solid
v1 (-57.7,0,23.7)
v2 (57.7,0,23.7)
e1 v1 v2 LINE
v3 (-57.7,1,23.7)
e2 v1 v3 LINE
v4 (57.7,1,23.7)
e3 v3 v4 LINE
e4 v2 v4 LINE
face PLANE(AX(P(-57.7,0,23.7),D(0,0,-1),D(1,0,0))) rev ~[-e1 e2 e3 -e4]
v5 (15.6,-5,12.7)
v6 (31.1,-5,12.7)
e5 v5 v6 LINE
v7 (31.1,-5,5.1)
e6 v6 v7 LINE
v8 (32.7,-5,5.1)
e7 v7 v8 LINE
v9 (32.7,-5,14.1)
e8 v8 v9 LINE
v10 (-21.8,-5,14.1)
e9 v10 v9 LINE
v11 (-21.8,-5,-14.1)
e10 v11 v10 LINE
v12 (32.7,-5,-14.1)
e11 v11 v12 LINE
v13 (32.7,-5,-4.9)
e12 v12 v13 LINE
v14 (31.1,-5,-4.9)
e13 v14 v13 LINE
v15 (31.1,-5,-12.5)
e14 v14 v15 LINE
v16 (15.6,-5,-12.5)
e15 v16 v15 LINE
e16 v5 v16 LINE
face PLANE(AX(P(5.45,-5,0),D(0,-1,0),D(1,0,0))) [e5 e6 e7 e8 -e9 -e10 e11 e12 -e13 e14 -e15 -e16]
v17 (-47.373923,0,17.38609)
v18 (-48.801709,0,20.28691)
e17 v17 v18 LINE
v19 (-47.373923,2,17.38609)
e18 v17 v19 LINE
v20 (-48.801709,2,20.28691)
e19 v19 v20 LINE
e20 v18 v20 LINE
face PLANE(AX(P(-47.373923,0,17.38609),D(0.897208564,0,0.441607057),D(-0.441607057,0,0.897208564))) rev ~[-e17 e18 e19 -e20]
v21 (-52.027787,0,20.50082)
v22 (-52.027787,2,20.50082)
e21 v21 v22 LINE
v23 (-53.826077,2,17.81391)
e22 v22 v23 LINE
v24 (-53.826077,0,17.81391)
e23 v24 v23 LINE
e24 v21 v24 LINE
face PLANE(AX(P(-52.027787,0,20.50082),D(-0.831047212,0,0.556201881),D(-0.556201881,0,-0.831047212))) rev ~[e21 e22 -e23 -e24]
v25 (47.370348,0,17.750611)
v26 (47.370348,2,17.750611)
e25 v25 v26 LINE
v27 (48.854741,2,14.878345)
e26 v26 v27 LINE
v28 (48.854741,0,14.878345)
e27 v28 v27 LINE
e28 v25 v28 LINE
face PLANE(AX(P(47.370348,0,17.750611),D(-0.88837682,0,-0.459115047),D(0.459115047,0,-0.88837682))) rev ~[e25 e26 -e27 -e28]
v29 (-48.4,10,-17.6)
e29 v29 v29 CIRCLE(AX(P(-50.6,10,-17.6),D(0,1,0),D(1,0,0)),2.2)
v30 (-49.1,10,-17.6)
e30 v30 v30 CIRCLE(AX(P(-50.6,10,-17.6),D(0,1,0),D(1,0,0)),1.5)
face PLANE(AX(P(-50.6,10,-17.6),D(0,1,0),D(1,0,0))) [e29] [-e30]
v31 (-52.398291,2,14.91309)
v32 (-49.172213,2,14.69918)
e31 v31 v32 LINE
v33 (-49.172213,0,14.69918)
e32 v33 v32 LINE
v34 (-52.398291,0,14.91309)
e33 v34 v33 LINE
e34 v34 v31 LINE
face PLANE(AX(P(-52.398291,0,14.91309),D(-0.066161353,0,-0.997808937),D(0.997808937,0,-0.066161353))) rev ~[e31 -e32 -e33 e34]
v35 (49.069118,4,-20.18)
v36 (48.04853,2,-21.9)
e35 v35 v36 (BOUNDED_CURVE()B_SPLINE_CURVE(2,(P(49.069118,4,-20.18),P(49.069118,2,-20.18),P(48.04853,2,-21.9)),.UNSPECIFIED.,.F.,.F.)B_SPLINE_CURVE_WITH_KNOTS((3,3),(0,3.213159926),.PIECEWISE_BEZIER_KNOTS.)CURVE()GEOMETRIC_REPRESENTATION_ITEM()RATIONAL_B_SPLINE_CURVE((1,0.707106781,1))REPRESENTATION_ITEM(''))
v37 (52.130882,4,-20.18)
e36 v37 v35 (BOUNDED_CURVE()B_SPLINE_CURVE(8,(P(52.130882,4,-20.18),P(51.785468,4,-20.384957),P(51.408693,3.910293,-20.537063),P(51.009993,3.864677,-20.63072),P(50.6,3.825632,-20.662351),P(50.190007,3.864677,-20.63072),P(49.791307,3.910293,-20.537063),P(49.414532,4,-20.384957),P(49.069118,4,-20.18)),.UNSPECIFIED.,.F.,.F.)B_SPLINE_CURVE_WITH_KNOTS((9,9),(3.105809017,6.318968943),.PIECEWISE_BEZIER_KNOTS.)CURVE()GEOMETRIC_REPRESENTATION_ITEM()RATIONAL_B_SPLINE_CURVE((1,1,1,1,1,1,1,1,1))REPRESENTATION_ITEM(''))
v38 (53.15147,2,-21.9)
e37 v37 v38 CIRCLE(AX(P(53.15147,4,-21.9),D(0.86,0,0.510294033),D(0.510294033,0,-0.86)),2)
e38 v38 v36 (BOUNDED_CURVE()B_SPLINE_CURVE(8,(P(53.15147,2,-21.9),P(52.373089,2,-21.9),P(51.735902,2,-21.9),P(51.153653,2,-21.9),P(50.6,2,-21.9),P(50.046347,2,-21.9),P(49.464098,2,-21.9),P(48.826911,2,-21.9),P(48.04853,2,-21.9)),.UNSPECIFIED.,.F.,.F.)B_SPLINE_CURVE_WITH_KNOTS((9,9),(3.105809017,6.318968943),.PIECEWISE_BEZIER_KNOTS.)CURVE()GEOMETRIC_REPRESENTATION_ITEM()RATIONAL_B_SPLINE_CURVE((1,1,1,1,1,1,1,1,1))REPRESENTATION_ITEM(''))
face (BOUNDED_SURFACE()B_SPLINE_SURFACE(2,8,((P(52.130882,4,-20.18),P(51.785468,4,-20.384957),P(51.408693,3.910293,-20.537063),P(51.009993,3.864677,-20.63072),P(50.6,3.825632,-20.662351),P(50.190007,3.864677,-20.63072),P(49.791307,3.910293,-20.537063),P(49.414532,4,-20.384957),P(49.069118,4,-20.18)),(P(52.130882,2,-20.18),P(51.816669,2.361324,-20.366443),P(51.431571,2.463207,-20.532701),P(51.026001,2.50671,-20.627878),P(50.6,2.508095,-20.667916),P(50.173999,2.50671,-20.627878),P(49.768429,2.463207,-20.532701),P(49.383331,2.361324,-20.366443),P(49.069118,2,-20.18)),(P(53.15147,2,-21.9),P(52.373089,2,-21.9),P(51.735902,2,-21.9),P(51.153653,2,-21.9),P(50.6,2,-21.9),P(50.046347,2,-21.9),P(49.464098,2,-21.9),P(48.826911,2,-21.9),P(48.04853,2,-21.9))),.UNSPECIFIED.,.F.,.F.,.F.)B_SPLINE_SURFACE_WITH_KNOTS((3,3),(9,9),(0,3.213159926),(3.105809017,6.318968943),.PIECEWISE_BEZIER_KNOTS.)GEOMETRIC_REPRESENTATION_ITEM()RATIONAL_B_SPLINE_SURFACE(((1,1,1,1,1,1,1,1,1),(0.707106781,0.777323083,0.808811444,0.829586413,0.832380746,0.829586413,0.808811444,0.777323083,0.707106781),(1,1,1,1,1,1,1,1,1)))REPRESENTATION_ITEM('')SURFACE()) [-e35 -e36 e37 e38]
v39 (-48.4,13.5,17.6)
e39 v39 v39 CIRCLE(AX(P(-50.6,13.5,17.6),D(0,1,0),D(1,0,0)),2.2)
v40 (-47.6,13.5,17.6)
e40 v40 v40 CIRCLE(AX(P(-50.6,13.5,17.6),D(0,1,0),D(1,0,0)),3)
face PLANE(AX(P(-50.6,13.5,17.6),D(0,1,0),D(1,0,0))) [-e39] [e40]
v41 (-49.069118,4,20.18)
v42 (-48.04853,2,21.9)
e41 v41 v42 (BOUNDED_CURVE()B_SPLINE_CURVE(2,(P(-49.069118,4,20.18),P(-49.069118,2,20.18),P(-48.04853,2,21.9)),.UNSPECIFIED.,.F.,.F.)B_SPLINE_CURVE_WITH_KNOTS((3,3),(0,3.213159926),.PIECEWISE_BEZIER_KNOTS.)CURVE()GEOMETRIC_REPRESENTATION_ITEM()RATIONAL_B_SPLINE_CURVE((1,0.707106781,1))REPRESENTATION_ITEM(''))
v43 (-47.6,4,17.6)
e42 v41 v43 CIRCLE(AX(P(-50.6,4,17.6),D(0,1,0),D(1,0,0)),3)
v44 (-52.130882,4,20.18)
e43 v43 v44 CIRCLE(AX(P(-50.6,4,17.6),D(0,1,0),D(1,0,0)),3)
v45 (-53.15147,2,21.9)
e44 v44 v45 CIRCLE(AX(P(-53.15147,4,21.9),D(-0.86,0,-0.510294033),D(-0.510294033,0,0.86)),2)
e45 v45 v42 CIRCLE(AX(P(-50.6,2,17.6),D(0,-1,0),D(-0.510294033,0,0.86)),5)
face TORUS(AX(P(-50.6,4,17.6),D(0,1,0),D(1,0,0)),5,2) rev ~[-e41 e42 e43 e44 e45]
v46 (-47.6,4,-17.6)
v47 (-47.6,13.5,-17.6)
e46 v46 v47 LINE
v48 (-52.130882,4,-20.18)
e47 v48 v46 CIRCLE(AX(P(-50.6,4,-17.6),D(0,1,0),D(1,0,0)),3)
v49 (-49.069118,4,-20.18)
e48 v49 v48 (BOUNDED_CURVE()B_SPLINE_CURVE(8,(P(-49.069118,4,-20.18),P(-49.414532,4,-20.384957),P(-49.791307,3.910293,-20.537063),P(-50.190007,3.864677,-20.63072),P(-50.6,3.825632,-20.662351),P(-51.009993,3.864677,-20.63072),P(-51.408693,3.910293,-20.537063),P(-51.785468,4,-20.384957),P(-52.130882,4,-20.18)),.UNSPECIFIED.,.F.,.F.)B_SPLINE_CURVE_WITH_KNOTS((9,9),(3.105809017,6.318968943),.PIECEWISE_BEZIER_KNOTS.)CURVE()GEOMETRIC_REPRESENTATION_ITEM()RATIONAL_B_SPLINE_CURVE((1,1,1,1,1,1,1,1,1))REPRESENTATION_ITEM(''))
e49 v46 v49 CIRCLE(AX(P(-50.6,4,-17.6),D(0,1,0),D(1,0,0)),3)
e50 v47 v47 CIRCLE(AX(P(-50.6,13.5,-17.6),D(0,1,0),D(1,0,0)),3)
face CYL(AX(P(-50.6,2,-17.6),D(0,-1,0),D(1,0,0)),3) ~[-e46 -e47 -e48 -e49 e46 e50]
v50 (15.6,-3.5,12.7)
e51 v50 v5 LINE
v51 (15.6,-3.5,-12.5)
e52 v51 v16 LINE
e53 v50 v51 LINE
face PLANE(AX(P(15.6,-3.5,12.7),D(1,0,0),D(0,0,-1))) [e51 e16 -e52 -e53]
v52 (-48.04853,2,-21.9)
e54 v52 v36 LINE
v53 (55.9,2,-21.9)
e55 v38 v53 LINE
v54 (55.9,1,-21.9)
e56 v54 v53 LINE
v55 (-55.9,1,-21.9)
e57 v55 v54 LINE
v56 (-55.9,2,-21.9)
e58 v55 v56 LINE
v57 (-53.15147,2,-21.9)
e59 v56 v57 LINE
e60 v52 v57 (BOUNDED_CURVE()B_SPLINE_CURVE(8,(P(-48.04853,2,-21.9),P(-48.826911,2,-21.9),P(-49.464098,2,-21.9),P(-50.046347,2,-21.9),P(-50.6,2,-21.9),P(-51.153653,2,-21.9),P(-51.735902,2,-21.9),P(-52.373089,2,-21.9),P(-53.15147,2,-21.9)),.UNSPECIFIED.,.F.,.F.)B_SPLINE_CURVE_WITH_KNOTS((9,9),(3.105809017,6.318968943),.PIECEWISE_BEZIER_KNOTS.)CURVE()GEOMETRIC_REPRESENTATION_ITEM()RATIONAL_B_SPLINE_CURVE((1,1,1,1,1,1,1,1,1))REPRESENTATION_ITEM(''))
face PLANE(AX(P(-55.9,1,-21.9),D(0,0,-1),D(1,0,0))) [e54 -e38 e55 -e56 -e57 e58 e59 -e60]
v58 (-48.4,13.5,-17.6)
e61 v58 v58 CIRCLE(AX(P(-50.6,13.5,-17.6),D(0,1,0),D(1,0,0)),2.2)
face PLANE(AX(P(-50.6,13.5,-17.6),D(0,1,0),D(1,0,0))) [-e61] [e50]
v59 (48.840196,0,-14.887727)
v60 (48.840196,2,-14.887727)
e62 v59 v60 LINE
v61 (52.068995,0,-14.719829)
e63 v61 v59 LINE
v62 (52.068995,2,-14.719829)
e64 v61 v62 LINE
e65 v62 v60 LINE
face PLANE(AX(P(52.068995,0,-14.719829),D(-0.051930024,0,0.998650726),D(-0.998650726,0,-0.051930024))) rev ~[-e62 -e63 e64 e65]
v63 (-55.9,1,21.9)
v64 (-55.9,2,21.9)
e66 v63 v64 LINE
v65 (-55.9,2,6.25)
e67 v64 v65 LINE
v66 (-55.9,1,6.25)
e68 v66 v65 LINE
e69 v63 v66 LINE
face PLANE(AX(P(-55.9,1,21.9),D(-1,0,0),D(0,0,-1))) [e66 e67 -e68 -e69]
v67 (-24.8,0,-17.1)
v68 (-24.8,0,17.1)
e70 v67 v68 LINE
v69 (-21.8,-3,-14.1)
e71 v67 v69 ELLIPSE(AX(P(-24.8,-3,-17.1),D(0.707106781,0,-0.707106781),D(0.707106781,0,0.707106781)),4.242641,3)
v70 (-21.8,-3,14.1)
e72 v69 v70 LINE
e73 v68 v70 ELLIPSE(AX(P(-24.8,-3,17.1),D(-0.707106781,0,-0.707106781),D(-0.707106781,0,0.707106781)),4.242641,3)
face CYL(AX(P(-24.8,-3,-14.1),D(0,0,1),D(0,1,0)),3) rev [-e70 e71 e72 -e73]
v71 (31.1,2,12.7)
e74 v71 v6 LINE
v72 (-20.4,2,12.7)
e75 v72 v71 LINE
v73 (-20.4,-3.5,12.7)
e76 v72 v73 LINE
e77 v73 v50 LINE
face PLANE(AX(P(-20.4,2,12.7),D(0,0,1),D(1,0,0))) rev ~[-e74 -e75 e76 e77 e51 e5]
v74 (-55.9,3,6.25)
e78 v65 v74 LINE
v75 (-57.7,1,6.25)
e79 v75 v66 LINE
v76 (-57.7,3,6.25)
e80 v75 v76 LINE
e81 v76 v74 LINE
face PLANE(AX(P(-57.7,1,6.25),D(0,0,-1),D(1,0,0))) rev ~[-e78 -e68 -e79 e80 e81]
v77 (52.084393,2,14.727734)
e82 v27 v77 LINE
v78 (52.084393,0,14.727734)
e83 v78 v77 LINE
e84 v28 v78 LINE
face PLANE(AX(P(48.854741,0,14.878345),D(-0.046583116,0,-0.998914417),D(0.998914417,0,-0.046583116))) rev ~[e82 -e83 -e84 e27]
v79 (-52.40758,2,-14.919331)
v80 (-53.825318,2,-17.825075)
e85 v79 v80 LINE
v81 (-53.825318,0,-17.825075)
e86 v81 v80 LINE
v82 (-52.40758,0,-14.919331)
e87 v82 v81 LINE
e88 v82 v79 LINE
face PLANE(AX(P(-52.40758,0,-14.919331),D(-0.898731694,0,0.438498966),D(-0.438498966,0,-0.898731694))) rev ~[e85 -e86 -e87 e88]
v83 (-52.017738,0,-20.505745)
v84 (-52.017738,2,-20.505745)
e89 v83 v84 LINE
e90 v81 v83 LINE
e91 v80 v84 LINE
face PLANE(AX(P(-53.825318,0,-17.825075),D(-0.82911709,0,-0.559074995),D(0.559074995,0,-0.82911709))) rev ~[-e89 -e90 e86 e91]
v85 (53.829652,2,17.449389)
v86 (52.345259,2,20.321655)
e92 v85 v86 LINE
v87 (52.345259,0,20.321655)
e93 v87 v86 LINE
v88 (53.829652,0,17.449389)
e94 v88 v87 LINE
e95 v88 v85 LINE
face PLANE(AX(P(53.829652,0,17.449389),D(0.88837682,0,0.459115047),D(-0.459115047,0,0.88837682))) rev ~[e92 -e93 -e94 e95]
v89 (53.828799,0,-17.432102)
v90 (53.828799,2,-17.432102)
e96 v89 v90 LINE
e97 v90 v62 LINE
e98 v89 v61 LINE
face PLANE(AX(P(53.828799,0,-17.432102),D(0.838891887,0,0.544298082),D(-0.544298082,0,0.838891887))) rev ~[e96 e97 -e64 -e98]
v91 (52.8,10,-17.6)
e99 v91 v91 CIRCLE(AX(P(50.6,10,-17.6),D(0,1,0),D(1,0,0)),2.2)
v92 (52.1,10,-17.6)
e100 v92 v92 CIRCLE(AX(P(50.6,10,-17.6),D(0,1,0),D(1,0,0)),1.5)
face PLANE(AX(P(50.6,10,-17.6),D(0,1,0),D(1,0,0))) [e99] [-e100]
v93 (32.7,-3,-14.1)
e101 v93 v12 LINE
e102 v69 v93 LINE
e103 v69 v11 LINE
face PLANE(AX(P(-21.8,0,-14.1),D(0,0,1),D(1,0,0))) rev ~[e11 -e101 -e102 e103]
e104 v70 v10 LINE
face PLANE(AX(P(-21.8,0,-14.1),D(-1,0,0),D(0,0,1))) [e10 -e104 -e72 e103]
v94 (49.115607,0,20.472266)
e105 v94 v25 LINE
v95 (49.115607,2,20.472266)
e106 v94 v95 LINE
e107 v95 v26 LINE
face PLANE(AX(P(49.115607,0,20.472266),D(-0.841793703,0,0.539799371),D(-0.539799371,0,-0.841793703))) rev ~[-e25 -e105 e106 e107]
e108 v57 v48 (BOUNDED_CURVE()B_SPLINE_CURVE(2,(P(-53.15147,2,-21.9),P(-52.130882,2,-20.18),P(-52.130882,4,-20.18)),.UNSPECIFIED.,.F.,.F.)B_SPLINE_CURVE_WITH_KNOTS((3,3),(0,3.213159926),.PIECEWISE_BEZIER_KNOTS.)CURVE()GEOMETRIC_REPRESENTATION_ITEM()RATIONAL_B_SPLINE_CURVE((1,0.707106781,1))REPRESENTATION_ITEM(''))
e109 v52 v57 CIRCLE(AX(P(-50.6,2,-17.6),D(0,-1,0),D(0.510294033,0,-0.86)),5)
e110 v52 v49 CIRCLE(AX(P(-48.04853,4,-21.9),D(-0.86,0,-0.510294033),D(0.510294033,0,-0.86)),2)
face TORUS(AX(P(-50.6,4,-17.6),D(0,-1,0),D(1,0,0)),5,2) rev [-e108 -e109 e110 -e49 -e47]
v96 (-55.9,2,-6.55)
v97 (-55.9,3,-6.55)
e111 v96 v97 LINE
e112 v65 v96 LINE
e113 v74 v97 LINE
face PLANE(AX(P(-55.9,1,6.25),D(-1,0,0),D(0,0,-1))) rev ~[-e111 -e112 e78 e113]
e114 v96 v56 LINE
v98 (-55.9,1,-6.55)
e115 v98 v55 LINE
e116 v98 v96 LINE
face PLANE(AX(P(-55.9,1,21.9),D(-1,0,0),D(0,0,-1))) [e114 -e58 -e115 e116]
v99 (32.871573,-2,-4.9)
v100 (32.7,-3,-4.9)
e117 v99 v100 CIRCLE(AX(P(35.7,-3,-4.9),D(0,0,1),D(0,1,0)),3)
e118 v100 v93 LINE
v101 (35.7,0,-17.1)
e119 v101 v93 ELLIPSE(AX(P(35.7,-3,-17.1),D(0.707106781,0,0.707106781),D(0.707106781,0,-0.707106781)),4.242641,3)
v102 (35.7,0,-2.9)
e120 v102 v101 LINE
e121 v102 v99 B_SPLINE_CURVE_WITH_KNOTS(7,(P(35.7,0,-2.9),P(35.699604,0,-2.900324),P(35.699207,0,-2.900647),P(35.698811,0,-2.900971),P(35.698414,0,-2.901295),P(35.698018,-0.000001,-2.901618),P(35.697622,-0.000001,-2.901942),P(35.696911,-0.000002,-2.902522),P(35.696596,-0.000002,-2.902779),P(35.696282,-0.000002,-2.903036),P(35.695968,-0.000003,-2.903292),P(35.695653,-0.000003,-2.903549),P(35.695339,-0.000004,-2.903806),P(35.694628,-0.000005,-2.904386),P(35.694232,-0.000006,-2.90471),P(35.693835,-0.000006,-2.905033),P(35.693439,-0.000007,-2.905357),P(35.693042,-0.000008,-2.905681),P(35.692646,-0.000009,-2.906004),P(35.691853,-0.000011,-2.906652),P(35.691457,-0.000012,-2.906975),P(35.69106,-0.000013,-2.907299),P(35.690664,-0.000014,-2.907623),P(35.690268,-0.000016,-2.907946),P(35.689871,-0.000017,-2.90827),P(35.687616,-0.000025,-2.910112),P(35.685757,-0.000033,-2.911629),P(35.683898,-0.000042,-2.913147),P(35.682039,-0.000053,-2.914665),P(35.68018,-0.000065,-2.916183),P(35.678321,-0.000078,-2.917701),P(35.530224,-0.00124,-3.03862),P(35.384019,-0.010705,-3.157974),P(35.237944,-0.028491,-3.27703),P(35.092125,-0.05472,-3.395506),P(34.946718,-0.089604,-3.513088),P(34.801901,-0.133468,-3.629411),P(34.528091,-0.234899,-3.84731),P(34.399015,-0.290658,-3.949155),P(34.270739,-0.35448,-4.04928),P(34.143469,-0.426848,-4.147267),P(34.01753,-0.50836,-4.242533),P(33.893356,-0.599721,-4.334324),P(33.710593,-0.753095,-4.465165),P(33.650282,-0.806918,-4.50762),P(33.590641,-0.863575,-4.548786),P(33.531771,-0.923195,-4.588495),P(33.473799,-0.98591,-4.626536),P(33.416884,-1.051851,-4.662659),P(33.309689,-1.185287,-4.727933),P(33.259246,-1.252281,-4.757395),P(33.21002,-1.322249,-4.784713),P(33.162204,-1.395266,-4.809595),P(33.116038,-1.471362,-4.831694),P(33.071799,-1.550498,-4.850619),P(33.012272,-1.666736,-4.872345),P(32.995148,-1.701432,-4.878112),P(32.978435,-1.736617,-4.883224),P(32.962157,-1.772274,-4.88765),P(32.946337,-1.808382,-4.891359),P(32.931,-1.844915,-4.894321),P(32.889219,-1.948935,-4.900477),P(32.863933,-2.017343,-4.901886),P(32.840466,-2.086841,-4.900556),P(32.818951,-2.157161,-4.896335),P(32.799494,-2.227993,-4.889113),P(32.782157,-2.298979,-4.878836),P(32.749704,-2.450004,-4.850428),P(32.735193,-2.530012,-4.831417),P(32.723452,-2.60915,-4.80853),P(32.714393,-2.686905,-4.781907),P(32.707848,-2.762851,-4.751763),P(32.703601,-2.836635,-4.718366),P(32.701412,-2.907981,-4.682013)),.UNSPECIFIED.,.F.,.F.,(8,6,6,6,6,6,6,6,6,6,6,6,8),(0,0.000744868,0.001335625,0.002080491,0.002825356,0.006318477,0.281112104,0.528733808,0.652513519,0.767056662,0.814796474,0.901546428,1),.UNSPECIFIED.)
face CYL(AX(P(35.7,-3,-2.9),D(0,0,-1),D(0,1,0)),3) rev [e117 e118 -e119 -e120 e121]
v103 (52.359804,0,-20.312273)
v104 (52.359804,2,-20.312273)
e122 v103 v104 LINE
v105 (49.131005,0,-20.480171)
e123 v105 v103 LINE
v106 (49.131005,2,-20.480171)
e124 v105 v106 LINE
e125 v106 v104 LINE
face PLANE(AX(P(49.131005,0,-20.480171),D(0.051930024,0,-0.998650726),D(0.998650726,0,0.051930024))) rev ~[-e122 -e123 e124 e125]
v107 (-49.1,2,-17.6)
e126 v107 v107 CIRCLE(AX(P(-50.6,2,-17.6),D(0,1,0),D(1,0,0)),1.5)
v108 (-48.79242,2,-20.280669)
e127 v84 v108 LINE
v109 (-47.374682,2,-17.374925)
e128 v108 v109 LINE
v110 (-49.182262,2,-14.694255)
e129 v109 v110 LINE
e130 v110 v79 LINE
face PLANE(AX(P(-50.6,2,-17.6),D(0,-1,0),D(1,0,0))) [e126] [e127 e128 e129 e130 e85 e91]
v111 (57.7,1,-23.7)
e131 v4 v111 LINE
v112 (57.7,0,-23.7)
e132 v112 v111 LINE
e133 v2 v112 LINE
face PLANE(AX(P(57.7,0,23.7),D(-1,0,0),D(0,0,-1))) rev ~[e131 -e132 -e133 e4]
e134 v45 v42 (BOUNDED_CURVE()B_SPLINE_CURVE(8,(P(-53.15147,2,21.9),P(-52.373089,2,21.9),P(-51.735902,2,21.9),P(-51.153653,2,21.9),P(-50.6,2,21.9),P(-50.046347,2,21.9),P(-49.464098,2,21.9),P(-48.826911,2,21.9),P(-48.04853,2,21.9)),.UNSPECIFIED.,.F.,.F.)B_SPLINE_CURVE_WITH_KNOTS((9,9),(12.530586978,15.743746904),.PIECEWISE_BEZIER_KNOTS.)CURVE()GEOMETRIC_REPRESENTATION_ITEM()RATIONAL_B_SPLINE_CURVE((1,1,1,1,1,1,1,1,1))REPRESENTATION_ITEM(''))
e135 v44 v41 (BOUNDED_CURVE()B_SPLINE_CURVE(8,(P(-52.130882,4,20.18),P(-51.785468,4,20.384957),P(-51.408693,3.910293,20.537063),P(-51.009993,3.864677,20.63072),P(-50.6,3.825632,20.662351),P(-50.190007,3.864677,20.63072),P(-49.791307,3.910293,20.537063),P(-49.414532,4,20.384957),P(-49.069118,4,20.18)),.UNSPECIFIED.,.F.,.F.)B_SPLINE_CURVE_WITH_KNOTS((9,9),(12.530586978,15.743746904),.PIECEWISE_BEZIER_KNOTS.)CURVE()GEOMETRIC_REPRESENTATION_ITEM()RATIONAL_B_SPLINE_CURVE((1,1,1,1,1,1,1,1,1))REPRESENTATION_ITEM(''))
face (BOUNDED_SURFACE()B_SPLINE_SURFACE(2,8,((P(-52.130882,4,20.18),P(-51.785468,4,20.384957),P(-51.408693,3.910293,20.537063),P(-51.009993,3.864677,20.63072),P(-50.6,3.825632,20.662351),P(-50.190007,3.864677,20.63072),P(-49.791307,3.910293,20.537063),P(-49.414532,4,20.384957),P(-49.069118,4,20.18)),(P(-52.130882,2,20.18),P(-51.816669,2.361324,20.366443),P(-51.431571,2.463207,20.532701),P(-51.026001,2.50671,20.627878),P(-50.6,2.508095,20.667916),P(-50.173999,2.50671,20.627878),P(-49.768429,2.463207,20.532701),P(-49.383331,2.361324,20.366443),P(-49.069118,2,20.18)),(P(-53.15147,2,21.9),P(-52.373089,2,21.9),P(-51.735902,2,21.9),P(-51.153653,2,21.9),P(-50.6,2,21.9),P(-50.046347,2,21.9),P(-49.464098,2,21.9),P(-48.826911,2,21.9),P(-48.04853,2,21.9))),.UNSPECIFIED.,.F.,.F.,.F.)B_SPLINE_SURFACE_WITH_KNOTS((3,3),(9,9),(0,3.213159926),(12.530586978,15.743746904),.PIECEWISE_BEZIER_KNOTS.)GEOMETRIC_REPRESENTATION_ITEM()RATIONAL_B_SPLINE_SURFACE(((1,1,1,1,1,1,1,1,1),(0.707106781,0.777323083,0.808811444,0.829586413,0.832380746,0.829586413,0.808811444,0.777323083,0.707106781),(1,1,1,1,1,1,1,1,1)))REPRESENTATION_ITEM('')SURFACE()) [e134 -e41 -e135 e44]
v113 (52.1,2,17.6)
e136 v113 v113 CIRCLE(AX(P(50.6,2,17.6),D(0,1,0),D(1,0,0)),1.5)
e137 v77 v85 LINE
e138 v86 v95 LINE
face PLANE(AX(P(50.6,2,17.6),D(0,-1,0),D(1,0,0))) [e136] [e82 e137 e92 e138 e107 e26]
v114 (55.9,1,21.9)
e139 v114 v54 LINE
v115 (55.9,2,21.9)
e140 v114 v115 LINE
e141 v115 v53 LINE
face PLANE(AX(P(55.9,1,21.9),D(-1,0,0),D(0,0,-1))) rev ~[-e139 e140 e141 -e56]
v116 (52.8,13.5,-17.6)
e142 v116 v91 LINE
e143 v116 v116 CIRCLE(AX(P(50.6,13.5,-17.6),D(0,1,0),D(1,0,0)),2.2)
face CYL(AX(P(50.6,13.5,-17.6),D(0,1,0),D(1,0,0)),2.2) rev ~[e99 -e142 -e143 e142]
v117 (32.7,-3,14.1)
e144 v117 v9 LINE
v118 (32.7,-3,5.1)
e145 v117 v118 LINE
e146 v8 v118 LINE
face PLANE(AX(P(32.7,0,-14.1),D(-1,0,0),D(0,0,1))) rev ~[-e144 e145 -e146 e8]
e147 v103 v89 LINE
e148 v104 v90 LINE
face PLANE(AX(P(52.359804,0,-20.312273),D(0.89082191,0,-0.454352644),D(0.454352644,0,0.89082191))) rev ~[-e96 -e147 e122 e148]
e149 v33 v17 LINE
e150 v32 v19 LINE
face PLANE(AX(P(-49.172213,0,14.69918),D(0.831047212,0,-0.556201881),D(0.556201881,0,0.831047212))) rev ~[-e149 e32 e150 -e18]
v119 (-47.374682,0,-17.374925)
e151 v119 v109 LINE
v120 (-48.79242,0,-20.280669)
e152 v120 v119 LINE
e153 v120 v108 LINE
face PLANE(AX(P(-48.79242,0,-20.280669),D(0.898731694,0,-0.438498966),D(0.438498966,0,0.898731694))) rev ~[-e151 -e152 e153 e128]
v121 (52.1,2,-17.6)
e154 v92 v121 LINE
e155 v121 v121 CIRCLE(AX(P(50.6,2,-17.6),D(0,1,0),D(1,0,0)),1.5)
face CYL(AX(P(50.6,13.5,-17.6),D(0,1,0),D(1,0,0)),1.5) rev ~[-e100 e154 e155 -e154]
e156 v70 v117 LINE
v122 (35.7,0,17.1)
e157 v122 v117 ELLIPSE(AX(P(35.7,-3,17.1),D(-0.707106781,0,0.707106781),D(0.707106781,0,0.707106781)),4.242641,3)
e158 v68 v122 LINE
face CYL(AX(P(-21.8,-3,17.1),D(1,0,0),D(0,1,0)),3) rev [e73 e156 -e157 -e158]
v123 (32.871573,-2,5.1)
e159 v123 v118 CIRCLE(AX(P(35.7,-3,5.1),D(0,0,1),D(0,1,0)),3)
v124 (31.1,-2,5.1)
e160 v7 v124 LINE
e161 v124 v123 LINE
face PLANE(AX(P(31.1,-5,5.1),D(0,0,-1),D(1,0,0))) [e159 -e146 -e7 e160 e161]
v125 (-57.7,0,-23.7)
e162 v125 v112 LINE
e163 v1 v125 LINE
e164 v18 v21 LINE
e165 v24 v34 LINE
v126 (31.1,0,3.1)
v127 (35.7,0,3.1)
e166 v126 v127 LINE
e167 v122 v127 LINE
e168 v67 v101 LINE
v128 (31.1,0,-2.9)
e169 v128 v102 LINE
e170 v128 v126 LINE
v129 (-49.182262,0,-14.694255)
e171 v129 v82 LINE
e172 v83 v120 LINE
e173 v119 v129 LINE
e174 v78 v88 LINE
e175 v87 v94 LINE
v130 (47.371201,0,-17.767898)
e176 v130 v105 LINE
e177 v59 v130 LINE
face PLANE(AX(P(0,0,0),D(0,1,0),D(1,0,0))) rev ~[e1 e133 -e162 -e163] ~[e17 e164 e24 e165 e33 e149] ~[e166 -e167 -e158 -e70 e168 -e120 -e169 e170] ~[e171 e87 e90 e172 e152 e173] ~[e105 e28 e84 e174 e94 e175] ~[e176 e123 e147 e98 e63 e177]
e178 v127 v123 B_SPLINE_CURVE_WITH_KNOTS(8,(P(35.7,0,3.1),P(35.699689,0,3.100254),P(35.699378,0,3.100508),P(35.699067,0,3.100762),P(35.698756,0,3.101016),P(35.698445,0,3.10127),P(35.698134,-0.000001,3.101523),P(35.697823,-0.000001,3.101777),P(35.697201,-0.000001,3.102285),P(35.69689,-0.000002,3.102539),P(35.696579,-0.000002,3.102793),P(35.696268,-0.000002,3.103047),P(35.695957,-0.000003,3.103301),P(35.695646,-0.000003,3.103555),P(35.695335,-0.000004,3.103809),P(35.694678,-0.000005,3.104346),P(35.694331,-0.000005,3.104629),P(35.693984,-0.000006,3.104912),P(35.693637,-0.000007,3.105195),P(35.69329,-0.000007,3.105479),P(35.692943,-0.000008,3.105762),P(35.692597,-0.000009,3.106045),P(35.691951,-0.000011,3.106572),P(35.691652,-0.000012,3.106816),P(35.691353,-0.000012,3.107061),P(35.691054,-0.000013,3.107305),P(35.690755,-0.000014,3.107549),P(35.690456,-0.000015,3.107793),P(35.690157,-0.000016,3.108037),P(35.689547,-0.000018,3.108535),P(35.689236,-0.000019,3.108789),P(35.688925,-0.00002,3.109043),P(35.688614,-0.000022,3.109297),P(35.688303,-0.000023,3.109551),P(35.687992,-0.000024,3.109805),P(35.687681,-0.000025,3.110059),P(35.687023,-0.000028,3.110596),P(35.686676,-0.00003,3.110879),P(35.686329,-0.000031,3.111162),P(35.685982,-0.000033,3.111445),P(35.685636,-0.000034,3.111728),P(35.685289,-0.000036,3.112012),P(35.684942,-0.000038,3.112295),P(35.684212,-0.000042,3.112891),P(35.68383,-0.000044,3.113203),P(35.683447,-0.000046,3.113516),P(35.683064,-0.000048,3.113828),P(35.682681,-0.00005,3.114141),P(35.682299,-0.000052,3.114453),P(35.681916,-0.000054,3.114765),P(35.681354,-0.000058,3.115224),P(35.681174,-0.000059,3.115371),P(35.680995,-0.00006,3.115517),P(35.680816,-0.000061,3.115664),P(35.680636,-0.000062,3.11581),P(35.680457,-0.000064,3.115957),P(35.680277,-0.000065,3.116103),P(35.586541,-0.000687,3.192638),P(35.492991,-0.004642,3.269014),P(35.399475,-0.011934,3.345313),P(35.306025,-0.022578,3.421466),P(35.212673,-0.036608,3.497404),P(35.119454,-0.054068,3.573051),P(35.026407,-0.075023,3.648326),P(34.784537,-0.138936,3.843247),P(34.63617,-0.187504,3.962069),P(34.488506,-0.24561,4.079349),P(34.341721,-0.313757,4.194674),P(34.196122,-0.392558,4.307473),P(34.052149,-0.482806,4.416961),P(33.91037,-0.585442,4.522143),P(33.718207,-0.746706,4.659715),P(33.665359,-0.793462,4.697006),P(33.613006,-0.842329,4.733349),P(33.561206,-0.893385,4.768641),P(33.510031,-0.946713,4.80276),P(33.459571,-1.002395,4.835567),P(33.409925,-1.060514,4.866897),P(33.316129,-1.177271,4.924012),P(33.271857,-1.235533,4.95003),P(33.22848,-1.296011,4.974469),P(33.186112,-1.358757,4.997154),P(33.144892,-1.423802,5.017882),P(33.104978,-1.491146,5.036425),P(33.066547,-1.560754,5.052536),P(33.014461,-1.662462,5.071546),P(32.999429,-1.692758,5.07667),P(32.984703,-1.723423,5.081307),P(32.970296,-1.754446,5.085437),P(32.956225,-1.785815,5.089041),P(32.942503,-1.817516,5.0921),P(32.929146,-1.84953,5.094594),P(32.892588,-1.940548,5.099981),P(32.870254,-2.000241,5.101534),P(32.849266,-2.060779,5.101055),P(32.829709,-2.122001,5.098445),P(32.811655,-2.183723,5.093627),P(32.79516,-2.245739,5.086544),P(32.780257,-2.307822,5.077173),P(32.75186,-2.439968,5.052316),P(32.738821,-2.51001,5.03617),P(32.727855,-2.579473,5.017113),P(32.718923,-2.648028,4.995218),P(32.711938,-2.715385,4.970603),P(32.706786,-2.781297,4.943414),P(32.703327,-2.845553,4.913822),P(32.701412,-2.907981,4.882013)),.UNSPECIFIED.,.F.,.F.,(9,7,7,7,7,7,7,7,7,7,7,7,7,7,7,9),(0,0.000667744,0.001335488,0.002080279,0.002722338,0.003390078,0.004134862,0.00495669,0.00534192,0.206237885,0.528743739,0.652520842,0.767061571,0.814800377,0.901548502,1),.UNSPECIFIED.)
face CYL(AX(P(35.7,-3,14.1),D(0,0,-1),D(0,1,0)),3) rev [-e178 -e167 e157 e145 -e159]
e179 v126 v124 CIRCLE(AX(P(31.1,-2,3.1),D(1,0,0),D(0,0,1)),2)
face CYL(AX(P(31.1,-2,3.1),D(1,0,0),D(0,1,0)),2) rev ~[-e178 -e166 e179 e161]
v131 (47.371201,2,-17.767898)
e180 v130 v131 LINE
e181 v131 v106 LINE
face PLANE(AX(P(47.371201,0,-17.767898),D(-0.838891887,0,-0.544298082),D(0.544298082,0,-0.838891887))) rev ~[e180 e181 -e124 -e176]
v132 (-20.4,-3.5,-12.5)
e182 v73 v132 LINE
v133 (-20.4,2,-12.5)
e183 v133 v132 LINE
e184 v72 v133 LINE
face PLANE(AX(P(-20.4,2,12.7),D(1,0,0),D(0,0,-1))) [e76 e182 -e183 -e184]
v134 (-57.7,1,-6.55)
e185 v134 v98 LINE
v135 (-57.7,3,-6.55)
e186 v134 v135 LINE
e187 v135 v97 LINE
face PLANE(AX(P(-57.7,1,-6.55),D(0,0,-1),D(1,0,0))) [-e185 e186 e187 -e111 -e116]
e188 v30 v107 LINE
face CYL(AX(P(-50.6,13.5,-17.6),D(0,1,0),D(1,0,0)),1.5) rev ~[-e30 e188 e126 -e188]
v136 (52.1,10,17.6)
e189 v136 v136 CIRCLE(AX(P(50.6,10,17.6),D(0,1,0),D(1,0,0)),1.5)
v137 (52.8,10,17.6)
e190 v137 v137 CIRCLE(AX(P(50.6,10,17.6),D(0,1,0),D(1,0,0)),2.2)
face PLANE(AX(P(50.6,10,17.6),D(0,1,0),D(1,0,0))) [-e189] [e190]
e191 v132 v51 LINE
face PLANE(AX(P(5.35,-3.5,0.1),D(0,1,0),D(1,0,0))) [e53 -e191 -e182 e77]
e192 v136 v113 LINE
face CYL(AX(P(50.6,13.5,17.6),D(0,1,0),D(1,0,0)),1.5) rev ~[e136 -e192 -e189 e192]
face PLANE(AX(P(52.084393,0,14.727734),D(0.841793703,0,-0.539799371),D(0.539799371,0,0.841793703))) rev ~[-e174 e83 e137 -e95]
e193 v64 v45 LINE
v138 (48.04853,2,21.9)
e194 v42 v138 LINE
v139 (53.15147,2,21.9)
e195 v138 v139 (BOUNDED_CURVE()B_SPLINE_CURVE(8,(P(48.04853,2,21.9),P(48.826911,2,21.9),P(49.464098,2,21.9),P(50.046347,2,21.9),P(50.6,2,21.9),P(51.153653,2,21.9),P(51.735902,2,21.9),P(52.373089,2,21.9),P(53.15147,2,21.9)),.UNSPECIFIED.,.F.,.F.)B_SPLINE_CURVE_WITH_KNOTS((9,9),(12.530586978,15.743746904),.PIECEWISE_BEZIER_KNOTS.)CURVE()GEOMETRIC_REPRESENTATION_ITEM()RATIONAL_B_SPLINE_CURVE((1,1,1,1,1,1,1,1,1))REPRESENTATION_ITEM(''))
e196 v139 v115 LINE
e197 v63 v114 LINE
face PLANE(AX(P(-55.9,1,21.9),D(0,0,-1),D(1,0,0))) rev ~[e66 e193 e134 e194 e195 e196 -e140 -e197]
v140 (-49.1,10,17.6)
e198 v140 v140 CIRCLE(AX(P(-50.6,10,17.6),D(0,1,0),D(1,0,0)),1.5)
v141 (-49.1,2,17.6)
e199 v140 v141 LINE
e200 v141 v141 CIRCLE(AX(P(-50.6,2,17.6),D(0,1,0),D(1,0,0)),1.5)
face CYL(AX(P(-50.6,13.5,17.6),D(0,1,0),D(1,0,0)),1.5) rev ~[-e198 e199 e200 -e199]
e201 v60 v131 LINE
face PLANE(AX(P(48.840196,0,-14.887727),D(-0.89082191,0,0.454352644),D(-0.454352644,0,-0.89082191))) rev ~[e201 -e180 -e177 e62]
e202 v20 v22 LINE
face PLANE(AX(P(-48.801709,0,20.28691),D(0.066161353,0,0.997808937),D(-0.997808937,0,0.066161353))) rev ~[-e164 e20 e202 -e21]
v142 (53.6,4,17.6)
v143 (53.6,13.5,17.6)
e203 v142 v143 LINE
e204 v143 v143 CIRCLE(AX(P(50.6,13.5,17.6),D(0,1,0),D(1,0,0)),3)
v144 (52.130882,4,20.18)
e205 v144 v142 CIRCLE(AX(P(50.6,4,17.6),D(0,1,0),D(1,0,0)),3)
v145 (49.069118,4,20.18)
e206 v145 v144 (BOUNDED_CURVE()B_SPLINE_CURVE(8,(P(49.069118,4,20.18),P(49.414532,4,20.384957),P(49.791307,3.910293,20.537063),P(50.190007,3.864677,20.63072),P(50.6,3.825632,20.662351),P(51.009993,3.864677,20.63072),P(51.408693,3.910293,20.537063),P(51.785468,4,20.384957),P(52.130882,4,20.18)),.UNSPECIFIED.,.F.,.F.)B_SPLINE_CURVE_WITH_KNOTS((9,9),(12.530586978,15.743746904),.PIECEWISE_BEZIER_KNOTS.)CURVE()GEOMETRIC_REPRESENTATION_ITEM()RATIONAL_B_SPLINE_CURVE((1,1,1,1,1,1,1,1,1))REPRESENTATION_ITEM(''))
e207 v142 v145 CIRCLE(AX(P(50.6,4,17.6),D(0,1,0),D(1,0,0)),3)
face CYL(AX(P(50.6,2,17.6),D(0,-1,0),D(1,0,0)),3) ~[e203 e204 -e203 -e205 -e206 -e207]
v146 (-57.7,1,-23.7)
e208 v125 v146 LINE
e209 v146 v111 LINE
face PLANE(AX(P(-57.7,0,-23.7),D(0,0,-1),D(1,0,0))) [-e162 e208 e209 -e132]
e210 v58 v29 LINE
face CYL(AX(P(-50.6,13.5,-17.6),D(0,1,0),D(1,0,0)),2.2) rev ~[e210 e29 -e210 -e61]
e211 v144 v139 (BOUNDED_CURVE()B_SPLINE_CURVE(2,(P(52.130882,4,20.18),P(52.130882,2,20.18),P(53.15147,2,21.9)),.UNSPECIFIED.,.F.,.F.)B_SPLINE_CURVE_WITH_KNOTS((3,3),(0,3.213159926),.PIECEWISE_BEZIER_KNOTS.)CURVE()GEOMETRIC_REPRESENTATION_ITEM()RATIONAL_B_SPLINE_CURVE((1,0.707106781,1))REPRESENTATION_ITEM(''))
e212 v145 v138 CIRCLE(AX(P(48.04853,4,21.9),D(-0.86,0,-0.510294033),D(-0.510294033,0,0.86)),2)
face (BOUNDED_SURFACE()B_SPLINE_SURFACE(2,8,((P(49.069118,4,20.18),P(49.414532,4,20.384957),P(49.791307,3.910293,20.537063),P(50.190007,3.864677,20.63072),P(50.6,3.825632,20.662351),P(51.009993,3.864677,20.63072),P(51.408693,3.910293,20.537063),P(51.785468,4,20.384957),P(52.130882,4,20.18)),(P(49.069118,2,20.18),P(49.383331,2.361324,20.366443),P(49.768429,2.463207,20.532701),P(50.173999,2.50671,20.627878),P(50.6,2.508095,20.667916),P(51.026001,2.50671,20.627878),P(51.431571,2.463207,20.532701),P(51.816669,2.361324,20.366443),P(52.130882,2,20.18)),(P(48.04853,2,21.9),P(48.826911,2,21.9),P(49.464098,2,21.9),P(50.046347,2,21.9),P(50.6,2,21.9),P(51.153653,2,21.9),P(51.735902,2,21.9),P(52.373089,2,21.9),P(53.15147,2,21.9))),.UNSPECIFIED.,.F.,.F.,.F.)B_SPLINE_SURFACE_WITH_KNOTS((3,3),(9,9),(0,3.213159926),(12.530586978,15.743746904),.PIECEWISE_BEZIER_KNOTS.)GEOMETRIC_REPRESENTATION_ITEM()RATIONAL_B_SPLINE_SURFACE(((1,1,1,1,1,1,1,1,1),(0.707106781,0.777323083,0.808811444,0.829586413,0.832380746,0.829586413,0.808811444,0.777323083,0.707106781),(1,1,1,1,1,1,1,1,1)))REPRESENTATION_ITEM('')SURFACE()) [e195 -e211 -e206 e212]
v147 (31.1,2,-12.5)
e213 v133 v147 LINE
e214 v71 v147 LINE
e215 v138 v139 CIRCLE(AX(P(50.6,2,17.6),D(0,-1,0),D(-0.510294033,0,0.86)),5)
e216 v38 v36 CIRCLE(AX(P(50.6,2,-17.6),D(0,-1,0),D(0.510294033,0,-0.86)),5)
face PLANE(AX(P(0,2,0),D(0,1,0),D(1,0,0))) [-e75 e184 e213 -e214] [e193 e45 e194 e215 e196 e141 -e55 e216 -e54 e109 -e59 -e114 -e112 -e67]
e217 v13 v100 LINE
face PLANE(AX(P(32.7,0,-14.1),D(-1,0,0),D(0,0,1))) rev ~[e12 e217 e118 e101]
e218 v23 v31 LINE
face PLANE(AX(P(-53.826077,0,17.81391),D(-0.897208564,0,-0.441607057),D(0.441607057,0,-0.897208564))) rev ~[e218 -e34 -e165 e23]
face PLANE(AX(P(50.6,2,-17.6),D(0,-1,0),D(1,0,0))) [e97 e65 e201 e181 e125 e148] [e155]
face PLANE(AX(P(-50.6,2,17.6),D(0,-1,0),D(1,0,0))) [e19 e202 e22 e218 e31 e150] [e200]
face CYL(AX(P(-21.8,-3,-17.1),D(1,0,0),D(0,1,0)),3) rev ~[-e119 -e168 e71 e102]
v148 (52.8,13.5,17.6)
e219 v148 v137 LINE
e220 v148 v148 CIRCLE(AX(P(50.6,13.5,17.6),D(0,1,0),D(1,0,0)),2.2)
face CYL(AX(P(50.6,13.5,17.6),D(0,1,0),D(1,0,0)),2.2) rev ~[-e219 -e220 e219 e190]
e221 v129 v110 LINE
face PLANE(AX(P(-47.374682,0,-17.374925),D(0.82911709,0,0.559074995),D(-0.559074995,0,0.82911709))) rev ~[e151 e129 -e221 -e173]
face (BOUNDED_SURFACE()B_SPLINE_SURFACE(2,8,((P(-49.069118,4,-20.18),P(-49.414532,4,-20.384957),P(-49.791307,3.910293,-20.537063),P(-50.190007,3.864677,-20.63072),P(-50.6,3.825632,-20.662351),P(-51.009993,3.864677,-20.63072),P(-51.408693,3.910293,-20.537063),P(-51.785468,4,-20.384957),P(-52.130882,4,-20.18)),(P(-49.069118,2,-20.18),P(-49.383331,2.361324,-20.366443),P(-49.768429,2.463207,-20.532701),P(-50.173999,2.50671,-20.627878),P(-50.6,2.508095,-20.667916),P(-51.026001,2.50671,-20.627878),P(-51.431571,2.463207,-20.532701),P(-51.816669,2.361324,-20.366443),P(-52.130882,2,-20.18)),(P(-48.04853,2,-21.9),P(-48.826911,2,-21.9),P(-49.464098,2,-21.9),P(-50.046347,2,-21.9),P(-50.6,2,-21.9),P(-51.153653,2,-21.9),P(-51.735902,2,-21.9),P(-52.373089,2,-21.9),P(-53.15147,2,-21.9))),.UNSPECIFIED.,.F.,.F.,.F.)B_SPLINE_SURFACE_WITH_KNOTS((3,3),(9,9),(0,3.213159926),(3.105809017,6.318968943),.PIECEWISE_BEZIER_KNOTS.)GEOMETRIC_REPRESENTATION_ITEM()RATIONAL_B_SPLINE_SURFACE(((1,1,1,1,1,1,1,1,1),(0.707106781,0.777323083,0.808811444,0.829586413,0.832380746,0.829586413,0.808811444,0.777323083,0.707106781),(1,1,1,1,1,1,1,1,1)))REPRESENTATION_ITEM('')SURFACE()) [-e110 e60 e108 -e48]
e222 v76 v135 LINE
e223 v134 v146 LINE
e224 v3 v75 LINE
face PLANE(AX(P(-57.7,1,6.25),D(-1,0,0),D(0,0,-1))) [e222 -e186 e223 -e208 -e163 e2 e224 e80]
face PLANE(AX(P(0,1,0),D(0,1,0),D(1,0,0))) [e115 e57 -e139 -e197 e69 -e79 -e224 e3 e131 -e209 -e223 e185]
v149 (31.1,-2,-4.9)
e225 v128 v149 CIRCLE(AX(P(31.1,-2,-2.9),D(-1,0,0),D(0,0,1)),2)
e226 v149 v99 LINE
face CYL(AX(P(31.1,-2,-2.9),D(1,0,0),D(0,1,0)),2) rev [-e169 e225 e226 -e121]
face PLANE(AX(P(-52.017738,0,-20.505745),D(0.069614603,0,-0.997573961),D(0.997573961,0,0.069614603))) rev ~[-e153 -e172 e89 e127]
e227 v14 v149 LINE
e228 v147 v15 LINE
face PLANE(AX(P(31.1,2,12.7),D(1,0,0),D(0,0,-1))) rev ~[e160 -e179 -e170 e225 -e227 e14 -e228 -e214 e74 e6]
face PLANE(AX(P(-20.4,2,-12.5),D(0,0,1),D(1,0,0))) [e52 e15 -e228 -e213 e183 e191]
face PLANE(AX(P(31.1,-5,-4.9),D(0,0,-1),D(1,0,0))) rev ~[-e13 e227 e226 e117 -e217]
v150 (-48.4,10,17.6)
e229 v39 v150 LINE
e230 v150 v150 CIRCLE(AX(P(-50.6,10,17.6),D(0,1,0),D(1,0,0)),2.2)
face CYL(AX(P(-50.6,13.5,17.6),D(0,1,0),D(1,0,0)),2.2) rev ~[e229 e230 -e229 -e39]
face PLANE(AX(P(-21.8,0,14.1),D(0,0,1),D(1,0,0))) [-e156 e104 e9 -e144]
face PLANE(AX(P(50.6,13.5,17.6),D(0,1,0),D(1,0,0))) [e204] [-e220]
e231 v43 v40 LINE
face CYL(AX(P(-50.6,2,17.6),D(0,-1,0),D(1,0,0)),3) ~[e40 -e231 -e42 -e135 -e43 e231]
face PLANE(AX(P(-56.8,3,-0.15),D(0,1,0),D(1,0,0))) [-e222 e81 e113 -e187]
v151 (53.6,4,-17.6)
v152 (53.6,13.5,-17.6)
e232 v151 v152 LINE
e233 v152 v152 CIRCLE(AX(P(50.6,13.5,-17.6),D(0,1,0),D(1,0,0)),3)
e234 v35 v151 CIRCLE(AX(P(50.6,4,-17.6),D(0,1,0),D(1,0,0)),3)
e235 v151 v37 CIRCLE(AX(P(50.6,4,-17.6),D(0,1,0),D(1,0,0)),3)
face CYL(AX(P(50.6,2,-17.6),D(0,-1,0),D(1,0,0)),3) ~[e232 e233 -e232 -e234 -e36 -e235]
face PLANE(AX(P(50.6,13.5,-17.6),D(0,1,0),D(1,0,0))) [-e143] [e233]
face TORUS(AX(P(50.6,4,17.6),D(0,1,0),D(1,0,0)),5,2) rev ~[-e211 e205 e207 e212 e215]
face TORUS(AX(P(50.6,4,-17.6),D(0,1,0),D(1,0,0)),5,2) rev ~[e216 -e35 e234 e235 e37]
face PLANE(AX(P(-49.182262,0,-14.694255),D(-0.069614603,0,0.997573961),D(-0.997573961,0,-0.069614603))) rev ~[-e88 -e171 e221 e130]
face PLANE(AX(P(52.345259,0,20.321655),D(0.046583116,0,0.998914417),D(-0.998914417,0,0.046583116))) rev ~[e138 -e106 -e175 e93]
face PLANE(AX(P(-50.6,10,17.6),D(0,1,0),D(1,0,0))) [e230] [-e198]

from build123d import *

# Parameters (mm, degrees)
SKETCH_1_W          = 115.4
SKETCH_1_H          = 47.4
EXTRUDE_1_DEPTH     = 1
SKETCH_3_W          = 111.8
SKETCH_3_H          = 43.8
EXTRUDE_3_DEPTH     = 1
SKETCH_10_R         = 3
EXTRUDE_6_DEPTH     = 11.5
CUT_EXTRUDE_4_REACH = 15.5
SKETCH_11_R         = 1.5
SKETCH_12_R         = 2.2
CUT_EXTRUDE_5_DEPTH = 3.5
FILLET_1_R          = 2
FILLET_2_R          = 2
FILLET_3_R          = 2
FILLET_4_R          = 2
CUT_EXTRUDE_6_DEPTH = 2
SKETCH_15_W         = 1.8
SKETCH_15_H         = 12.8
EXTRUDE_8_DEPTH     = 2
SKETCH_16_W         = 54.5
SKETCH_16_H         = 28.2
EXTRUDE_9_DEPTH     = 5
SKETCH_18_W         = 51.5
SKETCH_18_H         = 25.2
CUT_EXTRUDE_7_DEPTH = 5.5
CUT_EXTRUDE_8_REACH = 3.5
SKETCH_19_W         = 15.5
SKETCH_19_H         = 25.2
SKETCH_20_W         = 1.6
SKETCH_20_H         = 10
CUT_EXTRUDE_9_DEPTH = 5
FILLET_5_R          = 2
FILLET_6_R          = 3


with BuildPart() as part:
    # 草图1 → 凸台-拉伸1 (new body)
    with BuildSketch(Plane(origin=(0, 0, 0), x_dir=(1, 0, 0), z_dir=(0, 1, 0))):
        Rectangle(SKETCH_1_W, SKETCH_1_H)
    extrude(amount=EXTRUDE_1_DEPTH)

    # 草图3 → 凸台-拉伸3 (add)
    with BuildSketch(Plane(origin=(0, 1, 0), x_dir=(1, 0, 0), z_dir=(0, 1, 0))):
        Rectangle(SKETCH_3_W, SKETCH_3_H)
    extrude(amount=EXTRUDE_3_DEPTH)

    # 草图10 → 凸台-拉伸6 (add)
    with BuildSketch(Plane(origin=(0, 2, 0), x_dir=(1, 0, 0), z_dir=(0, 1, 0))):
        with Locations((-50.6, 17.6)):
            Circle(SKETCH_10_R)
        with Locations((50.6, 17.6)):
            Circle(SKETCH_10_R)
        with Locations((-50.6, -17.6)):
            Circle(SKETCH_10_R)
        with Locations((50.6, -17.6)):
            Circle(SKETCH_10_R)
    extrude(amount=EXTRUDE_6_DEPTH)

    # 草图11 → 切除-拉伸4 (cut, up to next)
    with BuildSketch(Plane(origin=(0, 13.5, 0), x_dir=(1, 0, 0), z_dir=(0, 1, 0)), mode=Mode.PRIVATE) as cut_extrude_4_sk1:
        with Locations((-50.6, 17.6)):
            Circle(SKETCH_11_R)
    cut_extrude_4_tool1 = extrude(cut_extrude_4_sk1.sketch, amount=-CUT_EXTRUDE_4_REACH, mode=Mode.PRIVATE) & part.part
    add(cut_extrude_4_tool1.solids().sort_by_distance((-50.6, 13.5, -17.6))[0], mode=Mode.SUBTRACT)
    # 草图11 → 切除-拉伸4 (cut, up to next)
    with BuildSketch(Plane(origin=(0, 13.5, 0), x_dir=(1, 0, 0), z_dir=(0, 1, 0)), mode=Mode.PRIVATE) as cut_extrude_4_sk2:
        with Locations((-50.6, -17.6)):
            Circle(SKETCH_11_R)
    cut_extrude_4_tool2 = extrude(cut_extrude_4_sk2.sketch, amount=-CUT_EXTRUDE_4_REACH, mode=Mode.PRIVATE) & part.part
    add(cut_extrude_4_tool2.solids().sort_by_distance((-50.6, 13.5, 17.6))[0], mode=Mode.SUBTRACT)
    # 草图11 → 切除-拉伸4 (cut, up to next)
    with BuildSketch(Plane(origin=(0, 13.5, 0), x_dir=(1, 0, 0), z_dir=(0, 1, 0)), mode=Mode.PRIVATE) as cut_extrude_4_sk3:
        with Locations((50.6, 17.6)):
            Circle(SKETCH_11_R)
    cut_extrude_4_tool3 = extrude(cut_extrude_4_sk3.sketch, amount=-CUT_EXTRUDE_4_REACH, mode=Mode.PRIVATE) & part.part
    add(cut_extrude_4_tool3.solids().sort_by_distance((50.6, 13.5, -17.6))[0], mode=Mode.SUBTRACT)
    # 草图11 → 切除-拉伸4 (cut, up to next)
    with BuildSketch(Plane(origin=(0, 13.5, 0), x_dir=(1, 0, 0), z_dir=(0, 1, 0)), mode=Mode.PRIVATE) as cut_extrude_4_sk4:
        with Locations((50.6, -17.6)):
            Circle(SKETCH_11_R)
    cut_extrude_4_tool4 = extrude(cut_extrude_4_sk4.sketch, amount=-CUT_EXTRUDE_4_REACH, mode=Mode.PRIVATE) & part.part
    add(cut_extrude_4_tool4.solids().sort_by_distance((50.6, 13.5, 17.6))[0], mode=Mode.SUBTRACT)

    # 草图12 → 切除-拉伸5 (cut)
    with BuildSketch(Plane(origin=(0, 13.5, 0), x_dir=(1, 0, 0), z_dir=(0, 1, 0))):
        with Locations((-50.6, 17.6)):
            Circle(SKETCH_12_R)
        with Locations((-50.6, -17.6)):
            Circle(SKETCH_12_R)
        with Locations((50.6, 17.6)):
            Circle(SKETCH_12_R)
        with Locations((50.6, -17.6)):
            Circle(SKETCH_12_R)
    extrude(amount=-CUT_EXTRUDE_5_DEPTH, mode=Mode.SUBTRACT)

    # 圆角1
    fillet_1_edges = [part.edges().sort_by_distance(p)[0] for p in [
        (-53.6, 2, -17.6),
    ]]
    fillet(fillet_1_edges, radius=FILLET_1_R)

    # 圆角2
    fillet_2_edges = [part.edges().sort_by_distance(p)[0] for p in [
        (-53.6, 2, 17.6),
    ]]
    fillet(fillet_2_edges, radius=FILLET_2_R)

    # 圆角3
    fillet_3_edges = [part.edges().sort_by_distance(p)[0] for p in [
        (47.6, 2, 17.6),
    ]]
    fillet(fillet_3_edges, radius=FILLET_3_R)

    # 圆角4
    fillet_4_edges = [part.edges().sort_by_distance(p)[0] for p in [
        (47.6, 2, -17.6),
    ]]
    fillet(fillet_4_edges, radius=FILLET_4_R)

    # 草图13 → 切除-拉伸6 (cut)
    with BuildSketch(Plane.XZ):
        Polygon((53.828799087, -17.432101847), (52.068995478, -14.71982889), (48.840196391, -14.887727044), (47.371200913, -17.767898153), (49.131004522, -20.48017111), (52.359803609, -20.312272956), align=None)
        Polygon((53.829651644, 17.449389261), (52.345258548, 20.321654999), (49.115606904, 20.472265738), (47.370348356, 17.750610739), (48.854741452, 14.878345001), (52.084393096, 14.727734262), align=None)
        Polygon((-47.374682269, -17.374924745), (-49.182262024, -14.694255282), (-52.407579754, -14.919330538), (-53.825317731, -17.825075255), (-52.017737976, -20.505744718), (-48.792420246, -20.280669462), align=None)
        Polygon((-47.373922552, 17.386089661), (-48.801709489, 20.286909855), (-52.027786937, 20.500820194), (-53.826077448, 17.813910339), (-52.398290511, 14.913090145), (-49.172213063, 14.699179806), align=None)
    extrude(amount=-CUT_EXTRUDE_6_DEPTH, mode=Mode.SUBTRACT)

    # 草图15 → 凸台-拉伸8 (add)
    with BuildSketch(Plane(origin=(0, 1, 0), x_dir=(1, 0, 0), z_dir=(0, 1, 0))):
        with Locations((-56.8, 0.15)):
            Rectangle(SKETCH_15_W, SKETCH_15_H)
    extrude(amount=EXTRUDE_8_DEPTH)

    # 草图16 → 凸台-拉伸9 (add)
    with BuildSketch(Plane.XZ):
        with Locations((5.45, 0)):
            Rectangle(SKETCH_16_W, SKETCH_16_H)
    extrude(amount=EXTRUDE_9_DEPTH)

    # 草图18 → 切除-拉伸7 (cut)
    with BuildSketch(Plane(origin=(0, 2, 0), x_dir=(1, 0, 0), z_dir=(0, 1, 0))):
        with Locations((5.35, -0.1)):
            Rectangle(SKETCH_18_W, SKETCH_18_H)
    extrude(amount=-CUT_EXTRUDE_7_DEPTH, mode=Mode.SUBTRACT)

    # 草图19 → 切除-拉伸8 (cut, up to next)
    with BuildSketch(Plane(origin=(0, -3.5, 0), x_dir=(1, 0, 0), z_dir=(0, 1, 0)), mode=Mode.PRIVATE) as cut_extrude_8_sk1:
        with Locations((23.35, -0.1)):
            Rectangle(SKETCH_19_W, SKETCH_19_H)
    cut_extrude_8_tool1 = extrude(cut_extrude_8_sk1.sketch, amount=-CUT_EXTRUDE_8_REACH, mode=Mode.PRIVATE) & part.part
    add(cut_extrude_8_tool1.solids().sort_by_distance((23.35, -3.5, 0.1))[0], mode=Mode.SUBTRACT)

    # 草图20 → 切除-拉伸9 (cut)
    with BuildSketch(Plane.XZ.offset(5)):
        with Locations((31.9, 0.1)):
            Rectangle(SKETCH_20_W, SKETCH_20_H)
    extrude(amount=-CUT_EXTRUDE_9_DEPTH, mode=Mode.SUBTRACT)

    # 圆角5
    fillet_5_edges = [part.edges().sort_by_distance(p)[0] for p in [
        (31.9, 0, 5.1),
        (31.9, 0, -4.9),
    ]]
    fillet(fillet_5_edges, radius=FILLET_5_R)

    # 圆角6
    fillet_6_edges = [part.edges().sort_by_distance(p)[0] for p in [
        (-21.8, 0, 0),
        (5.45, 0, -14.1),
        (32.7, 0, -9.5),
        (5.45, 0, 14.1),
        (32.7, 0, 9.6),
    ]]
    fillet(fillet_6_edges, radius=FILLET_6_R)


solid = part.part
